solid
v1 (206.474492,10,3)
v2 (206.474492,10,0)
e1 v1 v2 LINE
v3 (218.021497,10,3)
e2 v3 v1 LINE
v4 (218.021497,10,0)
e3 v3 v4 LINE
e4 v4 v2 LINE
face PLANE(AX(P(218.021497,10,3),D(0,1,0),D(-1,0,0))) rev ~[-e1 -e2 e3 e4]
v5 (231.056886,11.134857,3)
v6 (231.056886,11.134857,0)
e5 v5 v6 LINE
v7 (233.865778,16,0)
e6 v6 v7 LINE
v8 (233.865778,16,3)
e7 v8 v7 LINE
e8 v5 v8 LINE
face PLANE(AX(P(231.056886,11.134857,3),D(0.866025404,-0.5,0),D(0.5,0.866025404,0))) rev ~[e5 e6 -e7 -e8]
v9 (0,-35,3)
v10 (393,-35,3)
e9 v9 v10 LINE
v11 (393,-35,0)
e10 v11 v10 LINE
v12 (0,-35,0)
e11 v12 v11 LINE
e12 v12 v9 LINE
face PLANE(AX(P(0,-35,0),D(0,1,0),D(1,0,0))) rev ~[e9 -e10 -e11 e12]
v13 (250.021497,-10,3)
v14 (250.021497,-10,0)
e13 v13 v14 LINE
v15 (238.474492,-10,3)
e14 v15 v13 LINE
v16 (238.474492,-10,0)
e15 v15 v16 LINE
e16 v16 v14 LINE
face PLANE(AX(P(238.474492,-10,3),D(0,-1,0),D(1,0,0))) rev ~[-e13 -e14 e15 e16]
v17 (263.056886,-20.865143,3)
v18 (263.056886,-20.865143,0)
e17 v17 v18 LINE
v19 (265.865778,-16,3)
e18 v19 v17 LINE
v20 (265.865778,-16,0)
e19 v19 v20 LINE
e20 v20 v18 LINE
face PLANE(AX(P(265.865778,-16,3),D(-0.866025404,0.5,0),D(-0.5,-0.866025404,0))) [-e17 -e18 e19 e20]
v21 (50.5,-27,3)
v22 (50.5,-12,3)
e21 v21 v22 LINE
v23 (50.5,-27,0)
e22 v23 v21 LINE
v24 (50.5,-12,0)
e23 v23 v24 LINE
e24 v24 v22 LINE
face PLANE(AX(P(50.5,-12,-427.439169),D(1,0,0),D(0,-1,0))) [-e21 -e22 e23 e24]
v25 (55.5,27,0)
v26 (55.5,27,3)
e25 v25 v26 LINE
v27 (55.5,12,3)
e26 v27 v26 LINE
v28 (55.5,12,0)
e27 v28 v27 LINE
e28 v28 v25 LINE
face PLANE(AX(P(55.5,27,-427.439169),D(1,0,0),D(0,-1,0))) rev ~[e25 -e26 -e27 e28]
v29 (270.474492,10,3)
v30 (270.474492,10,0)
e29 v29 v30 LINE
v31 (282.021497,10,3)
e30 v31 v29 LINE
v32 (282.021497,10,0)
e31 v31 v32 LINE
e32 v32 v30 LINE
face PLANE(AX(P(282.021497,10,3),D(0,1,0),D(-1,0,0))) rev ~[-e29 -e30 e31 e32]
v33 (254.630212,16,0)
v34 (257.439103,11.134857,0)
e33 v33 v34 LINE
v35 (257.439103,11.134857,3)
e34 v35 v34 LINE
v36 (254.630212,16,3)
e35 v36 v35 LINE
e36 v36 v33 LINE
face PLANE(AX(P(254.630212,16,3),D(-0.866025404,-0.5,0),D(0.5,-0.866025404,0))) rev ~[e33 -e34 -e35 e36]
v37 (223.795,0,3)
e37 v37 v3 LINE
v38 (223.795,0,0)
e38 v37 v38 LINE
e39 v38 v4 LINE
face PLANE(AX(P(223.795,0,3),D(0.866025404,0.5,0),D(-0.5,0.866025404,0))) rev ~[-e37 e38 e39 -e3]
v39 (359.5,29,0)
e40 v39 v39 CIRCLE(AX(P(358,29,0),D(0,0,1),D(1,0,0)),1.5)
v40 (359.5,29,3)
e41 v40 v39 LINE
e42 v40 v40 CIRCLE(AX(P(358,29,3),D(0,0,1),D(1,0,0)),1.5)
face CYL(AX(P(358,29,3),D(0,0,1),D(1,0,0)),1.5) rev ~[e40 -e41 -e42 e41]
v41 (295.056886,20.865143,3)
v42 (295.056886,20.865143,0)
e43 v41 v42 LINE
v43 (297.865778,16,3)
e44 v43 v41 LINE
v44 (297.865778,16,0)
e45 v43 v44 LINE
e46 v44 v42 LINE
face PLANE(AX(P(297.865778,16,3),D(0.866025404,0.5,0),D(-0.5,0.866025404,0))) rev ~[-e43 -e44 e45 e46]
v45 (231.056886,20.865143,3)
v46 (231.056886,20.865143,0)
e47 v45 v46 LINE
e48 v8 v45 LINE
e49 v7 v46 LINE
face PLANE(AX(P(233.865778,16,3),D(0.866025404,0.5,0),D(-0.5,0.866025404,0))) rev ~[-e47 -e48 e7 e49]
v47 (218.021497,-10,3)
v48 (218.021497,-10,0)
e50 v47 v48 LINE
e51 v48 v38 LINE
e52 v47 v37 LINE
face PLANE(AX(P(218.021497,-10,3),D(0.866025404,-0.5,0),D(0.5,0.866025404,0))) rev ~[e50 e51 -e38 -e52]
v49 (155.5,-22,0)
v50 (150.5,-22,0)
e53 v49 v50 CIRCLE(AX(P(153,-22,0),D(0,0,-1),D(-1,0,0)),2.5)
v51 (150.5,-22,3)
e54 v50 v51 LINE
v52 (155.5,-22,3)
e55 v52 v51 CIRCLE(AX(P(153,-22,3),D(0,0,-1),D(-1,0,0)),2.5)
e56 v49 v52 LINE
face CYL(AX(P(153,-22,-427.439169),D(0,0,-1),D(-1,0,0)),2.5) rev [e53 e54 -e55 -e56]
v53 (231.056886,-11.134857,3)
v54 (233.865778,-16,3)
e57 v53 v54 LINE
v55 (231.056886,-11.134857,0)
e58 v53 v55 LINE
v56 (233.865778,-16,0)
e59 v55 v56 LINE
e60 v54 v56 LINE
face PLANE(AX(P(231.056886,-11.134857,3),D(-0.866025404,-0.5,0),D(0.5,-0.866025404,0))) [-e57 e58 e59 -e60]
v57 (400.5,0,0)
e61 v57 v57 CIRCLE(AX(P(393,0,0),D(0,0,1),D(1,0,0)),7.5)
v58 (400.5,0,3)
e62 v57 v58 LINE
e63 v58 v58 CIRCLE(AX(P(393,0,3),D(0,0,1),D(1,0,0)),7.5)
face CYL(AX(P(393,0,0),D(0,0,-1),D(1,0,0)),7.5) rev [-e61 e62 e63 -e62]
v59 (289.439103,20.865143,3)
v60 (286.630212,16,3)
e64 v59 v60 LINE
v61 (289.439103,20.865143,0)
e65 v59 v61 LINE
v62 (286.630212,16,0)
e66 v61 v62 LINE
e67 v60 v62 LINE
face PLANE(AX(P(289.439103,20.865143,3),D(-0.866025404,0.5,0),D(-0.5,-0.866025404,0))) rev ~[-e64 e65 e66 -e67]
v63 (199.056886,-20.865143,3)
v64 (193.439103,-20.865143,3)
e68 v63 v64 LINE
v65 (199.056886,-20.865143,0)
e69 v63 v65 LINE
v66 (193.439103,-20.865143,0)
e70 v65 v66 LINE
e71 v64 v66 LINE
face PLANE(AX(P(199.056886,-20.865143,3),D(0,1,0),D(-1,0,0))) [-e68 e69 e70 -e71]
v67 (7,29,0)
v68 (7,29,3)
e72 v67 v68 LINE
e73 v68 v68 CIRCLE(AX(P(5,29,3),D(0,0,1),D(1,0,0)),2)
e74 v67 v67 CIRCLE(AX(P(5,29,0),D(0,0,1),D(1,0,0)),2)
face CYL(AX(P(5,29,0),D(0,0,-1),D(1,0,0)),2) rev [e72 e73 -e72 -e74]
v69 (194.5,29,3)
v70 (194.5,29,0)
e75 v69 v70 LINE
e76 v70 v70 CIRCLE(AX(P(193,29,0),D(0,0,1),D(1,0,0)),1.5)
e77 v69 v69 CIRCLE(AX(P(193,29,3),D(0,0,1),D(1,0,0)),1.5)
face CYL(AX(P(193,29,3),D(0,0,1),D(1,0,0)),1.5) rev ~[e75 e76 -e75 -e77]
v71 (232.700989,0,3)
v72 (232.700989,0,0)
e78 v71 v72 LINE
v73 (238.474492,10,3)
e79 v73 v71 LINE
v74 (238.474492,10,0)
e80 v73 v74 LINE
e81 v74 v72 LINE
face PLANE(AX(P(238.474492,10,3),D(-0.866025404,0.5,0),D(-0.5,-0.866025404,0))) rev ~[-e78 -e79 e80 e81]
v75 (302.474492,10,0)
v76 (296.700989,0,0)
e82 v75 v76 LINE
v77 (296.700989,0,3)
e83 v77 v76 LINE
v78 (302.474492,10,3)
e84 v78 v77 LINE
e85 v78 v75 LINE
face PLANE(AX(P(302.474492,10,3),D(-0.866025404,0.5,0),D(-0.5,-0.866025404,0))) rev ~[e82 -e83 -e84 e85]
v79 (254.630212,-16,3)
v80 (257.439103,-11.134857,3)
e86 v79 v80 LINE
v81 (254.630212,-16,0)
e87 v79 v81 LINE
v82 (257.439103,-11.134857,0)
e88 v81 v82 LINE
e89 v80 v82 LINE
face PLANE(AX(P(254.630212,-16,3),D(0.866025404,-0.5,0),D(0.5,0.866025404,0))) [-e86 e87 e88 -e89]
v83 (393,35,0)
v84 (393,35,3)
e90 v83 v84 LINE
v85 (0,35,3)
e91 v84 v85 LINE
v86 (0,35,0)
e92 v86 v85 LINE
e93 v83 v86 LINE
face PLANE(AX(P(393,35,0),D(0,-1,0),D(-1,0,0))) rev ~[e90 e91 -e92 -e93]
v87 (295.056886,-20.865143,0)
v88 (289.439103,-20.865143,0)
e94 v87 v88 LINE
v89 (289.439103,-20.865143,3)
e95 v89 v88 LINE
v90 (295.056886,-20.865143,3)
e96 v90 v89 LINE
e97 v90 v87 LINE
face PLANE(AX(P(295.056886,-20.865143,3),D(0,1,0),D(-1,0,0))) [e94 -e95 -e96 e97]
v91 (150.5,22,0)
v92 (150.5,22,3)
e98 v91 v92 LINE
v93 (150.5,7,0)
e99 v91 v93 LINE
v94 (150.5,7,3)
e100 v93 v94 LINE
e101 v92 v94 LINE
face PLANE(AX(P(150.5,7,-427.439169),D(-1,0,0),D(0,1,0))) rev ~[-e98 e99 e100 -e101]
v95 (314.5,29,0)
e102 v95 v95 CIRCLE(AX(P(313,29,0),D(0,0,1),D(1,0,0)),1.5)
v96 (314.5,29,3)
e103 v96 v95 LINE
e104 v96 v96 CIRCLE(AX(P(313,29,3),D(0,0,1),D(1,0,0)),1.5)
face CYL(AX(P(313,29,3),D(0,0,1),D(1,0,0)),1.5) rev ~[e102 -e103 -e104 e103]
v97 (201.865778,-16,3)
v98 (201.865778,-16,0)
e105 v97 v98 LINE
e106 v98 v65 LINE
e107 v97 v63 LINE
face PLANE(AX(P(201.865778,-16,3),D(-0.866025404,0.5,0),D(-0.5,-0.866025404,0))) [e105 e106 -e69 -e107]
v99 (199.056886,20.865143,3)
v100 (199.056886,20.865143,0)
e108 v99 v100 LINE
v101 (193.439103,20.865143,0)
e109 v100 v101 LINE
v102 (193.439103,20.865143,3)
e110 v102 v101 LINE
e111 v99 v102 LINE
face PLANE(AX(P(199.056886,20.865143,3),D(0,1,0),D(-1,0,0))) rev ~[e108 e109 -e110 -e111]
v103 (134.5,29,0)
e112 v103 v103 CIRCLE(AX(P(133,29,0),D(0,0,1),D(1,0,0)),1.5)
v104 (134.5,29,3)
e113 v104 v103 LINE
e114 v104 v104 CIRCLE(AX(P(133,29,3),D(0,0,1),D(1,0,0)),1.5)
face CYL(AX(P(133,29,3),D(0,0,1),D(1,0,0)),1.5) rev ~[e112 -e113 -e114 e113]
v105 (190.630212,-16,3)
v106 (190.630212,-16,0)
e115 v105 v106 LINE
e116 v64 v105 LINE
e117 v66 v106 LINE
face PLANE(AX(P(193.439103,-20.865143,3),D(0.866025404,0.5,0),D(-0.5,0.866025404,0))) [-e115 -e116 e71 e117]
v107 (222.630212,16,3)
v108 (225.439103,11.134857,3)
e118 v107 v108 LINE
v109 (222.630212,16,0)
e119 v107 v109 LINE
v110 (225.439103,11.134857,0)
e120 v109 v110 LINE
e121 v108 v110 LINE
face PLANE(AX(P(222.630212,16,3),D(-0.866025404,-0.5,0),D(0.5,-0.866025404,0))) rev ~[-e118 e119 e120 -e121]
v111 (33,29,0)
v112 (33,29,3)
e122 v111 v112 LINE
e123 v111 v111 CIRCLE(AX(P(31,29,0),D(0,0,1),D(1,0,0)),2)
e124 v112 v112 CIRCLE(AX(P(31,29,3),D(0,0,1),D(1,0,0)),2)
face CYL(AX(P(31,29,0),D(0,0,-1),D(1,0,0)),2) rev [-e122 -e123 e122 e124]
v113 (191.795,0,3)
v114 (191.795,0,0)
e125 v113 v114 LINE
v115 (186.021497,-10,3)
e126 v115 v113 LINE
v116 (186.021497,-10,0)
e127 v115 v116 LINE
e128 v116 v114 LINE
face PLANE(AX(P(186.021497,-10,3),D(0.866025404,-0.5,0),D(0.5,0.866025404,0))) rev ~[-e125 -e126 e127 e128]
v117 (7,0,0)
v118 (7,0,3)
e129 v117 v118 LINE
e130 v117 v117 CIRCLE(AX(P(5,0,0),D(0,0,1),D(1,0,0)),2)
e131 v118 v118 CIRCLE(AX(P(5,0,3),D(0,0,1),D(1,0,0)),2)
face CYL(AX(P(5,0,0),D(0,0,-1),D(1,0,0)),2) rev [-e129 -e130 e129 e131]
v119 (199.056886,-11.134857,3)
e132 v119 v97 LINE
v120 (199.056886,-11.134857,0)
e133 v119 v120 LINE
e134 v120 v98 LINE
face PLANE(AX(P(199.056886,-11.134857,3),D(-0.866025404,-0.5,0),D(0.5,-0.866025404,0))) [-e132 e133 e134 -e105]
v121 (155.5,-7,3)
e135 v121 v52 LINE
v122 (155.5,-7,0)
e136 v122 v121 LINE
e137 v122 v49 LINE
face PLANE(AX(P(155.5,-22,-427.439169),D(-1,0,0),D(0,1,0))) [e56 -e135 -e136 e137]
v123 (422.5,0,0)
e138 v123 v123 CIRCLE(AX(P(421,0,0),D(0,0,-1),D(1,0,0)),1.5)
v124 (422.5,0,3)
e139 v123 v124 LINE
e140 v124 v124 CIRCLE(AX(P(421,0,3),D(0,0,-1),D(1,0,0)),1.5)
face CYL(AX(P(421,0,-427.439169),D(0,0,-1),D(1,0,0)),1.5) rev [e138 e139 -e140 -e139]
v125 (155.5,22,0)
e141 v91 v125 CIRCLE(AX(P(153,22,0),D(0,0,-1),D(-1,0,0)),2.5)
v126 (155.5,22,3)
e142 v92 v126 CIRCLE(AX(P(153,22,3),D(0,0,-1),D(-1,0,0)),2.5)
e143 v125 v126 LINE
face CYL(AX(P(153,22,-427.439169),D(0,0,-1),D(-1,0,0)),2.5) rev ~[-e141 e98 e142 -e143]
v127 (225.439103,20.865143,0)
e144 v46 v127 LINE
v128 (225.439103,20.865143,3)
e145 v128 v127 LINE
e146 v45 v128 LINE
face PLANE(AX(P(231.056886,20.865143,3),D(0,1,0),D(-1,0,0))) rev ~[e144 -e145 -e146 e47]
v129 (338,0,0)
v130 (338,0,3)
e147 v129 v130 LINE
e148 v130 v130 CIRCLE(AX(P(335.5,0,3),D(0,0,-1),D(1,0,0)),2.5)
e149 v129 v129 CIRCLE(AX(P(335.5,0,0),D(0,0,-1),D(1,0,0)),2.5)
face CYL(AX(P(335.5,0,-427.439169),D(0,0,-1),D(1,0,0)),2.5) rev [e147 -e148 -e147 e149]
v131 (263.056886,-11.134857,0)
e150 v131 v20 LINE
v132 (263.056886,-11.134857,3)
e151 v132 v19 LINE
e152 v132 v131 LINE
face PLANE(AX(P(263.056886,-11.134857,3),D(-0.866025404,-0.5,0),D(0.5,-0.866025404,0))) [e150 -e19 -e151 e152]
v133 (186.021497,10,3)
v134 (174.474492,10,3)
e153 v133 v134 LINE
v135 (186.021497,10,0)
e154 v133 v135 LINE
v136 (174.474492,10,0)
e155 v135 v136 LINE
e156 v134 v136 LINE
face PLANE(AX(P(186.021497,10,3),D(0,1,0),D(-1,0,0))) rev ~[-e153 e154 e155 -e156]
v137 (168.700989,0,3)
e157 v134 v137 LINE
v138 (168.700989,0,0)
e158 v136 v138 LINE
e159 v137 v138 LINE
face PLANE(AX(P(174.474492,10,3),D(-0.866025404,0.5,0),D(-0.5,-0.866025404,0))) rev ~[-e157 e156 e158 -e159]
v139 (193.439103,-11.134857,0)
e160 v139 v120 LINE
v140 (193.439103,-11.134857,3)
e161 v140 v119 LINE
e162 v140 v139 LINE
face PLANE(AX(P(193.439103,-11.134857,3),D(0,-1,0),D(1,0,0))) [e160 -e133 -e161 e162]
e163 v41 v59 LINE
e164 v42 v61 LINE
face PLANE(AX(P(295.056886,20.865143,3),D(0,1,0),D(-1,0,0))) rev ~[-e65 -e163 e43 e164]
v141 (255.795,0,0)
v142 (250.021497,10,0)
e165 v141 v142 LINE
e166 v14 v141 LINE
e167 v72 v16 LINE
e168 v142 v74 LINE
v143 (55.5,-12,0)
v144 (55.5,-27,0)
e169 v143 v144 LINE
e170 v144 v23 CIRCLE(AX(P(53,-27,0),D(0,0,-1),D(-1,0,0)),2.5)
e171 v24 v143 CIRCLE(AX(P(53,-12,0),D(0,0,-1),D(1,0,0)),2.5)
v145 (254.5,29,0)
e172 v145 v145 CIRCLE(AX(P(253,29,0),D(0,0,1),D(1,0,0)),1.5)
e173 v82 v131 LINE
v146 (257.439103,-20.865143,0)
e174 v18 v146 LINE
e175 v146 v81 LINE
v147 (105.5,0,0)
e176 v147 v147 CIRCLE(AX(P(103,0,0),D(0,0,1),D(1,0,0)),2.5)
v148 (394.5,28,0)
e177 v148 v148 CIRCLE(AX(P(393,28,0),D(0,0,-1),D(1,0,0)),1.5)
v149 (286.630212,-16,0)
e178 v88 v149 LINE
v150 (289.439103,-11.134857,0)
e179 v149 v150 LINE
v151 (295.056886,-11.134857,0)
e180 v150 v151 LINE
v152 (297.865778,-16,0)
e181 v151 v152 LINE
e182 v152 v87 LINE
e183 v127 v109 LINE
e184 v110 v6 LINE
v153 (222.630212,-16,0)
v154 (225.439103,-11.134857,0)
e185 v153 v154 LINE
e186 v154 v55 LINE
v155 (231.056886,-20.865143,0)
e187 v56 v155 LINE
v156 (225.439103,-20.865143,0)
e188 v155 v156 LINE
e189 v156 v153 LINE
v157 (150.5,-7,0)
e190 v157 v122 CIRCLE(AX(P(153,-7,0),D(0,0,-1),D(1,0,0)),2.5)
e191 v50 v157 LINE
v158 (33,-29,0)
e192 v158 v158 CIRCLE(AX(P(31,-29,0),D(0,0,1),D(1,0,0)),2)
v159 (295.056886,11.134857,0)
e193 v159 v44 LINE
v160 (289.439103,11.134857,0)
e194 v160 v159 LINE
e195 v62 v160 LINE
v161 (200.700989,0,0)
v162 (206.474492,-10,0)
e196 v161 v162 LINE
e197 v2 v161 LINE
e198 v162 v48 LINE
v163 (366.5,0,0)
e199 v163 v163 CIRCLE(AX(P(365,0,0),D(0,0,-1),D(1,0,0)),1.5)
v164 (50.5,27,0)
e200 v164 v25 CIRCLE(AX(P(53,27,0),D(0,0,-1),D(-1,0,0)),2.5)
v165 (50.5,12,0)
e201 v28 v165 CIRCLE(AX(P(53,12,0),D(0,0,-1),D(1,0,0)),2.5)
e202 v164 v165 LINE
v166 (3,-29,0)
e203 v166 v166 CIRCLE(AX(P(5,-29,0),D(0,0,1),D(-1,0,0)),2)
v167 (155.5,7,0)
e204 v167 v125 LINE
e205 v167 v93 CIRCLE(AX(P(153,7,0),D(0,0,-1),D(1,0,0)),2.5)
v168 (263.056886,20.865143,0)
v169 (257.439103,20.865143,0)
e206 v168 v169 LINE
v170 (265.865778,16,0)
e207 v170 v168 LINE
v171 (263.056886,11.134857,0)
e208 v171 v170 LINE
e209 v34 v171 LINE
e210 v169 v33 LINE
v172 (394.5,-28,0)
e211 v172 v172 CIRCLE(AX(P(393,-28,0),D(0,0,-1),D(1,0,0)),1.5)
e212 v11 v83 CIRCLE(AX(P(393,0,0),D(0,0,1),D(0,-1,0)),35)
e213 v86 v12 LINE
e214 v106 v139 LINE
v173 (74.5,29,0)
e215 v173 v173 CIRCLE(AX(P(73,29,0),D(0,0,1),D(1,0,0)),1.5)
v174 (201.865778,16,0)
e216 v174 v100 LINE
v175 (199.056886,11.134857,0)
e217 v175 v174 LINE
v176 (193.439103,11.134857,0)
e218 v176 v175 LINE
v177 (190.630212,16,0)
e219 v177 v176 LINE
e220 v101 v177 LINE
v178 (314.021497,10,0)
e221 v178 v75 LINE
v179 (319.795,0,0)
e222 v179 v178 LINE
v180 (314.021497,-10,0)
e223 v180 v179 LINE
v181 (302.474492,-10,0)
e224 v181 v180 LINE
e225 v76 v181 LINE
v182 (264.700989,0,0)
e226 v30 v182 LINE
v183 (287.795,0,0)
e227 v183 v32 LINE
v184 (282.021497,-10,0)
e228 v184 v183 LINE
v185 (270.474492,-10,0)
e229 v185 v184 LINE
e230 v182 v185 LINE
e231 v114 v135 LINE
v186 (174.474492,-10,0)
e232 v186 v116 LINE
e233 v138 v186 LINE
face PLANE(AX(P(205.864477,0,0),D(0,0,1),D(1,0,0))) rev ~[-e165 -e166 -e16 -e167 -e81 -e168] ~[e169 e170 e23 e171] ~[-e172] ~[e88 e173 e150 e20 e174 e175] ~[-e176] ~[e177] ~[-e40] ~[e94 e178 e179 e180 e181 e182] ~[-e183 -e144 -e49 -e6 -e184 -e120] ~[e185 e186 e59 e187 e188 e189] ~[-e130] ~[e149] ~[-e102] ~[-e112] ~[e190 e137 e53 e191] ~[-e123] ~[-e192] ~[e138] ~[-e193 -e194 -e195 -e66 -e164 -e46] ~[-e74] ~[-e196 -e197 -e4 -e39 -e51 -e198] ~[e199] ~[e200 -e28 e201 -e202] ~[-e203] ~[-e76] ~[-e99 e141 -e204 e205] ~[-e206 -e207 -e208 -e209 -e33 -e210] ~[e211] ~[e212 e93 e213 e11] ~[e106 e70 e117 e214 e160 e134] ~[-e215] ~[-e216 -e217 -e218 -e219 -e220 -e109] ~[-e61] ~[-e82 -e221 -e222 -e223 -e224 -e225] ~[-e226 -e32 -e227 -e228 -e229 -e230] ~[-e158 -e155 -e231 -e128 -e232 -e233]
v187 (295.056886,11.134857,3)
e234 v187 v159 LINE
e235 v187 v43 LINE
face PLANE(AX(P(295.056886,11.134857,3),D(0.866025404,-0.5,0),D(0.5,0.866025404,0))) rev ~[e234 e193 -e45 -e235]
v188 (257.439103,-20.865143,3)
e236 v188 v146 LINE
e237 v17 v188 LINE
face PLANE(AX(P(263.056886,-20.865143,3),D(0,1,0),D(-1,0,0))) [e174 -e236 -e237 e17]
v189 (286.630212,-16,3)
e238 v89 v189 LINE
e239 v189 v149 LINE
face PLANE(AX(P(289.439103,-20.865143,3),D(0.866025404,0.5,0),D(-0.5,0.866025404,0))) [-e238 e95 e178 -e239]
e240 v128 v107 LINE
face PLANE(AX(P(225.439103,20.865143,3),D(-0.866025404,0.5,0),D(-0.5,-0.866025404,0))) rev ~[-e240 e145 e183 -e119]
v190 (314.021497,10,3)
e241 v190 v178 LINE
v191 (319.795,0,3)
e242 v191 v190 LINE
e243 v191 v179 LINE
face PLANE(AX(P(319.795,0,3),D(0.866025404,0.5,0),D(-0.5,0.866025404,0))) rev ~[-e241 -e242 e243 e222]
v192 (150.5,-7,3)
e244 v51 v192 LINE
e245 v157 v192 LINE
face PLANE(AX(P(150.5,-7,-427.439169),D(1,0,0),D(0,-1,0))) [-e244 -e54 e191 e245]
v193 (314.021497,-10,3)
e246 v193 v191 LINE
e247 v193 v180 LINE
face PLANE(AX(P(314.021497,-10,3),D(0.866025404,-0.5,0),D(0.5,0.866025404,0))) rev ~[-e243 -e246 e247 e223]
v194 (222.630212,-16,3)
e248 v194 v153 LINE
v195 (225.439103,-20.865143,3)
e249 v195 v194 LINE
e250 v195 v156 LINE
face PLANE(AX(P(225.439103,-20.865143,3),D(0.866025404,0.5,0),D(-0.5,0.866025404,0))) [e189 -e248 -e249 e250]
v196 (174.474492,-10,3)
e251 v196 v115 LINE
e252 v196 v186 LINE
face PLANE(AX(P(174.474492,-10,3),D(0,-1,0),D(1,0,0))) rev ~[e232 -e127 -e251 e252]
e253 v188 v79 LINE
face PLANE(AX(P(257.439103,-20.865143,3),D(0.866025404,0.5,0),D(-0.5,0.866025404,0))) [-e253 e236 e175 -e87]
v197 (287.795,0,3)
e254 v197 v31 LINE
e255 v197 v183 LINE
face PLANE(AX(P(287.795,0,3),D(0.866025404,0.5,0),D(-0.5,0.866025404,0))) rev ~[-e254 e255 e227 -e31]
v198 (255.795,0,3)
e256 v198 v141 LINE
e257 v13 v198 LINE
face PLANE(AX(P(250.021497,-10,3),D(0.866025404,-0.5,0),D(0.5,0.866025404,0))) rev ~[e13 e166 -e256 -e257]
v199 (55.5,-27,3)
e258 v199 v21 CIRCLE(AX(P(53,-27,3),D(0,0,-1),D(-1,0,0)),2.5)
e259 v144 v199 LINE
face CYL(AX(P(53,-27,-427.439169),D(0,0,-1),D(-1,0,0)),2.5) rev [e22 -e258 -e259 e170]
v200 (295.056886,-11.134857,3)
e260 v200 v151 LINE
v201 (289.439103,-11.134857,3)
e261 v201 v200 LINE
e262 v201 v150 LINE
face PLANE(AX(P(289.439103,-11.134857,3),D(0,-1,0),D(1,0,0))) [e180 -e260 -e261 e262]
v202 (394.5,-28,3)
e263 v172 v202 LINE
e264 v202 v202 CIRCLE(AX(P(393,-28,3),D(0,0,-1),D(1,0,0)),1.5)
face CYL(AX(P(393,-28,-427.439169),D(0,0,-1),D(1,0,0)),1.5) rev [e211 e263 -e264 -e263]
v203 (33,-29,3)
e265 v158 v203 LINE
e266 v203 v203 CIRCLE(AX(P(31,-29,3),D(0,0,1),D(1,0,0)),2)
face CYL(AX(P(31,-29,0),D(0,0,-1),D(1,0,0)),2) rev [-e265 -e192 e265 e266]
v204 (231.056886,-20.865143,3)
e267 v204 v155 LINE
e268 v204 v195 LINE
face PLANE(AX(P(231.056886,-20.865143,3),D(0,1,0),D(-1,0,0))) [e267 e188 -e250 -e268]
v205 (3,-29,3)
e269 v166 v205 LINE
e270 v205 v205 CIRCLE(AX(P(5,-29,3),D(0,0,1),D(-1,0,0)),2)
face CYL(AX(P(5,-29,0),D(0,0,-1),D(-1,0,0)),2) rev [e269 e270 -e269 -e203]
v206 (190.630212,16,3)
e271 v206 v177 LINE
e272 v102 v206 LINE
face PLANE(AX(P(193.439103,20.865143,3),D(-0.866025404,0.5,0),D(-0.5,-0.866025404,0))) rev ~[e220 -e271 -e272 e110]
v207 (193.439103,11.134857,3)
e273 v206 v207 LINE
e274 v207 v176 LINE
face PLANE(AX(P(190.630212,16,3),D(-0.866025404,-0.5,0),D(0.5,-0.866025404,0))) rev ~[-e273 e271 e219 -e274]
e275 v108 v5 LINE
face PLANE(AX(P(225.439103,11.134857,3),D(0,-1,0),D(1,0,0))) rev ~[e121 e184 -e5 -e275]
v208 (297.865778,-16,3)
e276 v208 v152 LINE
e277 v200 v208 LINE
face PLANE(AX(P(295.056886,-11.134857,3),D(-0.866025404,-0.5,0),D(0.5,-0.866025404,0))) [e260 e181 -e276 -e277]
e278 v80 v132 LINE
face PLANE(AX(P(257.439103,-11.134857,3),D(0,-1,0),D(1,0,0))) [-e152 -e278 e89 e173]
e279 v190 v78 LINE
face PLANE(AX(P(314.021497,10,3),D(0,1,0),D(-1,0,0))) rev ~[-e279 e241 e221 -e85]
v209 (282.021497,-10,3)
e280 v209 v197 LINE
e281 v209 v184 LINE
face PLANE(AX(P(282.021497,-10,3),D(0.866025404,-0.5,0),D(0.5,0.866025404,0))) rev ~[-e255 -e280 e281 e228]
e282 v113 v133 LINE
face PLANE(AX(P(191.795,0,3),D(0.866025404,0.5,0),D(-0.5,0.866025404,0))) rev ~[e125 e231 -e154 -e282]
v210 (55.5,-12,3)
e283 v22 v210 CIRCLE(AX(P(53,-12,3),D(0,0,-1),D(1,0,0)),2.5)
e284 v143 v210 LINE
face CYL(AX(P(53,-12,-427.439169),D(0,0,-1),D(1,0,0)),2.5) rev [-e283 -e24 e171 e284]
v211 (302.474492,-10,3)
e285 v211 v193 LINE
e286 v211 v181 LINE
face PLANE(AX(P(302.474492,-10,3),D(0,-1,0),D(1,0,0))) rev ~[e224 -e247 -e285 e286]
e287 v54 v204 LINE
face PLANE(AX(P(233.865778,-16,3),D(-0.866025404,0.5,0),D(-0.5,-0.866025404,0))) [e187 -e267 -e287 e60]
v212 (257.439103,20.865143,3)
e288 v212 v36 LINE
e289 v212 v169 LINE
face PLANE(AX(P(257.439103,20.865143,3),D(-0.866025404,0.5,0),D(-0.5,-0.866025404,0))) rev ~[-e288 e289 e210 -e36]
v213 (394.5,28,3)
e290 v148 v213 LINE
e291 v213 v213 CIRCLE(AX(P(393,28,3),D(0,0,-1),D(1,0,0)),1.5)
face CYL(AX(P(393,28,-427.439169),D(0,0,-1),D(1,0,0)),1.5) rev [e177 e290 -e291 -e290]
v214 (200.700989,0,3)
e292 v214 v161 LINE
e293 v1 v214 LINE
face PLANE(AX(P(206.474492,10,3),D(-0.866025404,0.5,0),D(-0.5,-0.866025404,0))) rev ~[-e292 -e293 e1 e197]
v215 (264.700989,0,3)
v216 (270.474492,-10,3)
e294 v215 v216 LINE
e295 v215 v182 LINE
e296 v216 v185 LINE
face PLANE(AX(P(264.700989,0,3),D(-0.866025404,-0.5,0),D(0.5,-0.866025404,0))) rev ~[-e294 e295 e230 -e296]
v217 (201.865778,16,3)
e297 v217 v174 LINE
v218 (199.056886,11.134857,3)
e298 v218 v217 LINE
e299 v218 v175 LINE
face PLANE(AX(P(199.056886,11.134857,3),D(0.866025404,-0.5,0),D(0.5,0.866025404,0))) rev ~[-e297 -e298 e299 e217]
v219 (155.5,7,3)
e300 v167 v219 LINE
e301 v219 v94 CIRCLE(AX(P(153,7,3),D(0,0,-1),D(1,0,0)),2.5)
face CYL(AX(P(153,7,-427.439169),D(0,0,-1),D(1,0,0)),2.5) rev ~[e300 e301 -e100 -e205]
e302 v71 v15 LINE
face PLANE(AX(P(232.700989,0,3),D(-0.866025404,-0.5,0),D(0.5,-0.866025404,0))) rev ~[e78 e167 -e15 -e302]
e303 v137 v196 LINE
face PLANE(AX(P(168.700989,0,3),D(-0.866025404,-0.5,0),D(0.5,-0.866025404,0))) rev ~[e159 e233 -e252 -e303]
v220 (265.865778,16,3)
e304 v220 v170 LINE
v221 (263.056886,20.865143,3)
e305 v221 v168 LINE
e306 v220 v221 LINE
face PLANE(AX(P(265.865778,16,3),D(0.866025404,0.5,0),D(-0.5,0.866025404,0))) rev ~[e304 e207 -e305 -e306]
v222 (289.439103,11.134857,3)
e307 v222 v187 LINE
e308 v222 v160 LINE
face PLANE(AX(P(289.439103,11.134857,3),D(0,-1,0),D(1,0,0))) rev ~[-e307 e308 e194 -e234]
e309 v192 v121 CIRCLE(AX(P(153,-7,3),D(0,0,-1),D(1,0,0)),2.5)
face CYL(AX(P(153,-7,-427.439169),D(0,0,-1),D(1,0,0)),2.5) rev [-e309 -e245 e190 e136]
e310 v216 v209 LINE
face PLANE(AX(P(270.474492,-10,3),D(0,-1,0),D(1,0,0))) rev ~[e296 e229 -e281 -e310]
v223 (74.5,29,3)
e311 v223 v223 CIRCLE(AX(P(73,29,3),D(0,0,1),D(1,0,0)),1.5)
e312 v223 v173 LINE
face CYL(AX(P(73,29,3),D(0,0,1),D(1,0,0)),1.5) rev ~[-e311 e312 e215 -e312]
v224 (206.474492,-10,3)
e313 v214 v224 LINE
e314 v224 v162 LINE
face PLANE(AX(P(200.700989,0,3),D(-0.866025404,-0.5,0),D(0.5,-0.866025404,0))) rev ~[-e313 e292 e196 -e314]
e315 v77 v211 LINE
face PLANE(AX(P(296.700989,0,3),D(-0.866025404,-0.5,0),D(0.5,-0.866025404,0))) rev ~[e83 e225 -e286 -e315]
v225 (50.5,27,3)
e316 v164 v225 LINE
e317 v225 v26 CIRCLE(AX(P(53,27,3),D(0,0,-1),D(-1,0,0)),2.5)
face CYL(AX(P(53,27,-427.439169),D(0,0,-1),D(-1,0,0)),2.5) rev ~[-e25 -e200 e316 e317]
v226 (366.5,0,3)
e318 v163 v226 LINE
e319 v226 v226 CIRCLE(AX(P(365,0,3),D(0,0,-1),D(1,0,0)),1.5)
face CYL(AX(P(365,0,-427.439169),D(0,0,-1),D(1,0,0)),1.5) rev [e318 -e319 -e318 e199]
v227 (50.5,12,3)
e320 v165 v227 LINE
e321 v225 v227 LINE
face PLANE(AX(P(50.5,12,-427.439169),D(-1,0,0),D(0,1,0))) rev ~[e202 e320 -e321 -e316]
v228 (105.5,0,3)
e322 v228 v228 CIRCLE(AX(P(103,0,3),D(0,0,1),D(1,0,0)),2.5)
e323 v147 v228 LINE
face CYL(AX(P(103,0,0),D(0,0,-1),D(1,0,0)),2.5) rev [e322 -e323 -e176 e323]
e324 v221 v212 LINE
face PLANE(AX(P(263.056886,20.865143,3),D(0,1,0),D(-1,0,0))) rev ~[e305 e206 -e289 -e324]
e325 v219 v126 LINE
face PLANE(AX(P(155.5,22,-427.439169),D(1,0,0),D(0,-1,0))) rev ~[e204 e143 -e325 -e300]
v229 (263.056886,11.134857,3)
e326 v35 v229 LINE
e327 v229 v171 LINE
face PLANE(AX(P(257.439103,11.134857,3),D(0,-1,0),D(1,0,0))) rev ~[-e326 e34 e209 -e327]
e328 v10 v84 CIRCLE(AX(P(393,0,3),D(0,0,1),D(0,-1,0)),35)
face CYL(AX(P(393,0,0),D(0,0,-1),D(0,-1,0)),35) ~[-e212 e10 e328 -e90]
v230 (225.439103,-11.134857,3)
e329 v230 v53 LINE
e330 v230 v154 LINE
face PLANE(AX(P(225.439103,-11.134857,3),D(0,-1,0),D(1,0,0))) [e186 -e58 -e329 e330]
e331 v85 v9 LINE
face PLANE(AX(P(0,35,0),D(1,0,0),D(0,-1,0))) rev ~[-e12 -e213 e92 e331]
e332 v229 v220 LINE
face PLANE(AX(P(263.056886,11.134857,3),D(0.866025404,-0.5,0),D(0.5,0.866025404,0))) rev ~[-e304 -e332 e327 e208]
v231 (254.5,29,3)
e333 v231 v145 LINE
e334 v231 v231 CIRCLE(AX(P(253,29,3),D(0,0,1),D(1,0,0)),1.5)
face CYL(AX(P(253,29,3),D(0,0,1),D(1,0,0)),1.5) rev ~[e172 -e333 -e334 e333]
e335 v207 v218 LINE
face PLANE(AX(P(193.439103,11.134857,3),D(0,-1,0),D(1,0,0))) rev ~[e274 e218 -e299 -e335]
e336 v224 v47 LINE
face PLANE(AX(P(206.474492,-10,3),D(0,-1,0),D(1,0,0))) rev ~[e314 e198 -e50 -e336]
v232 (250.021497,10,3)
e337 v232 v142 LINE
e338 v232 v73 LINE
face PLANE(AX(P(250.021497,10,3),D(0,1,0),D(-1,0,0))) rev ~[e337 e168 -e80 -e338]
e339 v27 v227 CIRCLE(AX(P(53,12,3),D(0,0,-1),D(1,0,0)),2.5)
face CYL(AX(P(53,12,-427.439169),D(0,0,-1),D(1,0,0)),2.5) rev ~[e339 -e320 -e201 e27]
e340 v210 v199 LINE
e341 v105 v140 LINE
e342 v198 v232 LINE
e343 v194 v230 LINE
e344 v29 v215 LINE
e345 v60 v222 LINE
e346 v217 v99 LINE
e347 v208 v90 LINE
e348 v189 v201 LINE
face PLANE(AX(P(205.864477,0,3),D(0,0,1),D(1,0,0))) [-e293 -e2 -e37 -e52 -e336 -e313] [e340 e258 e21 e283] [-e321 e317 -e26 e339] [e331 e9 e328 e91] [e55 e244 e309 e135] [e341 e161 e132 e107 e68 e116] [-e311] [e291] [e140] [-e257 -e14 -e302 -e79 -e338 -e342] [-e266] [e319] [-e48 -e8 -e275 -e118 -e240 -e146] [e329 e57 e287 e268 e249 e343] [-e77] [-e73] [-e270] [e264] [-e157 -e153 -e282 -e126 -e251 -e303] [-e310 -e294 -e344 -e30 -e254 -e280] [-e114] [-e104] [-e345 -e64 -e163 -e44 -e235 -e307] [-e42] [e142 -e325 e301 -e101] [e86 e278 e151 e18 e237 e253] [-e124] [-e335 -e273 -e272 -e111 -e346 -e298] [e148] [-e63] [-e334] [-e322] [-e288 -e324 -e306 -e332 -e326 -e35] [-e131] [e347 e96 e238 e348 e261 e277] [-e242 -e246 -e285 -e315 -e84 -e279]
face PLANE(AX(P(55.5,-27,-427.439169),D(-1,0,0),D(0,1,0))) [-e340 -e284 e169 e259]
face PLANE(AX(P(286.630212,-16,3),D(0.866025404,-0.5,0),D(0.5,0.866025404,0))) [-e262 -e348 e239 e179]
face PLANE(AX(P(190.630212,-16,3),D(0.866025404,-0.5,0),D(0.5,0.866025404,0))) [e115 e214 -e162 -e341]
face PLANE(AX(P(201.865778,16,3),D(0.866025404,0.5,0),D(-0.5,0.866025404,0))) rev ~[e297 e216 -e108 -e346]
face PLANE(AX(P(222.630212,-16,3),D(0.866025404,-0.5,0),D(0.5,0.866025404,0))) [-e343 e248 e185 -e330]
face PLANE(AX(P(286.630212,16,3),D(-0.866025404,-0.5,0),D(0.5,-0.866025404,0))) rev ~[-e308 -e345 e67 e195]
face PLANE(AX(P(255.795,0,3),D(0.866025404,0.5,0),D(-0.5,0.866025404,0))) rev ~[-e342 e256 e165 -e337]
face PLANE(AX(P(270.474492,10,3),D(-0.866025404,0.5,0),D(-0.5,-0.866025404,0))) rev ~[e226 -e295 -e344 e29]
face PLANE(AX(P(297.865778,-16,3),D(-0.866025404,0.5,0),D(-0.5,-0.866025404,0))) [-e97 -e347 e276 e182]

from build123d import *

# Parameters (mm, degrees)
SKETCH1_R               = 2
SKETCH1_R_2             = 7.5
SKETCH1_R_3             = 2.5
BOSS_EXTRUDE1_DEPTH     = 3
CUT_EXTRUDE1_DEPTH      = 430.43916915
CUT_EXTRUDE1_DEPTH_BACK = 430.43916915
CUT_EXTRUDE2_DEPTH      = 430.43916915
CUT_EXTRUDE2_DEPTH_BACK = 430.43916915
SKETCH5_R               = 2.5
CUT_EXTRUDE3_DEPTH      = 430.43916915
CUT_EXTRUDE3_DEPTH_BACK = 430.43916915
SKETCH6_R               = 1.500000001
SKETCH6_R_2             = 1.5
SKETCH6_R_3             = 1.499999999
SKETCH7_R               = 1.5
CUT_EXTRUDE4_DEPTH      = 3
CUT_EXTRUDE5_DEPTH      = 430.43916915


with BuildPart() as part:
    # Sketch1 → Boss-Extrude1 (new body)
    with BuildSketch(Plane.XY):
        with BuildLine():
            Line((0, 35), (0, -35))
            Line((0, -35), (393, -35))
            ThreePointArc((393, -35), (428, 0), (393, 35))
            Line((393, 35), (0, 35))
        make_face()
        with Locations((5, 29)):
            Circle(SKETCH1_R, mode=Mode.SUBTRACT)
        with Locations(Location((5, -29, 0), (0, 0, 180))):
            Circle(SKETCH1_R, mode=Mode.SUBTRACT)
        with Locations((393, 0)):
            Circle(SKETCH1_R_2, mode=Mode.SUBTRACT)
        with Locations((103, 0)):
            Circle(SKETCH1_R_3, mode=Mode.SUBTRACT)
        with Locations((31, 29)):
            Circle(SKETCH1_R, mode=Mode.SUBTRACT)
        with Locations((31, -29)):
            Circle(SKETCH1_R, mode=Mode.SUBTRACT)
        with Locations((5, 0)):
            Circle(SKETCH1_R, mode=Mode.SUBTRACT)
    extrude(amount=BOSS_EXTRUDE1_DEPTH)

    # Sketch4 → Cut-Extrude1 (cut, two sides: drawn at the far end of the back side and taken through both)
    with BuildSketch(Plane.XY.offset(3).offset(-CUT_EXTRUDE1_DEPTH_BACK)):
        with BuildLine():
            Line((55.5, 27), (55.5, 12))
            ThreePointArc((55.5, 12), (53, 9.5), (50.5, 12))
            Line((50.5, 12), (50.5, 27))
            ThreePointArc((50.5, 27), (53, 29.5), (55.5, 27))
        make_face()
        with BuildLine():
            Line((155.5, 22), (155.5, 7))
            ThreePointArc((155.5, 7), (153, 4.5), (150.5, 7))
            Line((150.5, 7), (150.5, 22))
            ThreePointArc((150.5, 22), (153, 24.5), (155.5, 22))
        make_face()
        with BuildLine():
            Line((155.5, -22), (155.5, -7))
            ThreePointArc((155.5, -7), (153, -4.5), (150.5, -7))
            Line((150.5, -7), (150.5, -22))
            ThreePointArc((150.5, -22), (153, -24.5), (155.5, -22))
        make_face()
        with BuildLine():
            Line((55.5, -27), (55.5, -12))
            ThreePointArc((55.5, -12), (53, -9.5), (50.5, -12))
            Line((50.5, -12), (50.5, -27))
            ThreePointArc((50.5, -27), (53, -29.5), (55.5, -27))
        make_face()
    extrude(amount=CUT_EXTRUDE1_DEPTH + CUT_EXTRUDE1_DEPTH_BACK, mode=Mode.SUBTRACT)

    # Sketch5 → Cut-Extrude2 (cut, two sides: drawn at the far end of the back side and taken through both)
    with BuildSketch(Plane.XY.offset(3).offset(-CUT_EXTRUDE2_DEPTH_BACK)):
        with Locations((335.5, 0)):
            Circle(SKETCH5_R)
    extrude(amount=CUT_EXTRUDE2_DEPTH + CUT_EXTRUDE2_DEPTH_BACK, mode=Mode.SUBTRACT)

    # Sketch6 → Cut-Extrude3 (cut, two sides: drawn at the far end of the back side and taken through both)
    with BuildSketch(Plane.XY.offset(3).offset(-CUT_EXTRUDE3_DEPTH_BACK)):
        with Locations((420.999999999, 1e-09)):
            Circle(SKETCH6_R)
        with Locations((393, -27.999999998)):
            Circle(SKETCH6_R_2)
        with Locations((393, 28)):
            Circle(SKETCH6_R_2)
        with Locations((365.000000001, 1e-09)):
            Circle(SKETCH6_R_3)
    extrude(amount=CUT_EXTRUDE3_DEPTH + CUT_EXTRUDE3_DEPTH_BACK, mode=Mode.SUBTRACT)

    # Sketch7 → Cut-Extrude4 (cut)
    with BuildSketch(Plane.XY.offset(3)):
        with Locations((73, 29)):
            Circle(SKETCH7_R)
        with Locations((133, 29)):
            Circle(SKETCH7_R)
        with Locations((193, 29)):
            Circle(SKETCH7_R)
        with Locations((253, 29)):
            Circle(SKETCH7_R)
        with Locations((313, 29)):
            Circle(SKETCH7_R)
        with Locations((358, 29)):
            Circle(SKETCH7_R)
    extrude(amount=-CUT_EXTRUDE4_DEPTH, mode=Mode.SUBTRACT)

    # Sketch8 → Cut-Extrude5 (cut, through all)
    with BuildSketch(Plane.XY.offset(3)):
        Polygon((223.795, 0), (218.021497308, 10), (206.474491924, 10), (200.700989232, 0), (206.474491924, -10), (218.021497308, -10), align=None)
        Polygon((191.795, 0), (186.021497308, 10), (174.474491924, 10), (168.700989232, 0), (174.474491924, -10), (186.021497308, -10), align=None)
        Polygon((255.795, 0), (250.021497308, 10), (238.474491924, 10), (232.700989232, 0), (238.474491924, -10), (250.021497308, -10), align=None)
        Polygon((287.795, 0), (282.021497308, 10), (270.474491924, 10), (264.700989232, 0), (270.474491924, -10), (282.021497308, -10), align=None)
        Polygon((233.865777575, 16), (231.056886095, 20.865142755), (225.439103137, 20.865142755), (222.630211658, 16), (225.439103137, 11.134857245), (231.056886095, 11.134857245), align=None)
        Polygon((201.865777575, 16), (199.056886095, 20.865142755), (193.439103137, 20.865142755), (190.630211658, 16), (193.439103137, 11.134857245), (199.056886095, 11.134857245), align=None)
        Polygon((265.865777575, 16), (263.056886095, 20.865142755), (257.439103137, 20.865142755), (254.630211658, 16), (257.439103137, 11.134857245), (263.056886095, 11.134857245), align=None)
        Polygon((319.795, 0), (314.021497308, 10), (302.474491924, 10), (296.700989232, 0), (302.474491924, -10), (314.021497308, -10), align=None)
        Polygon((297.865777575, 16), (295.056886095, 20.865142755), (289.439103137, 20.865142755), (286.630211658, 16), (289.439103137, 11.134857245), (295.056886095, 11.134857245), align=None)
        Polygon((295.056886095, -11.134857245), (297.865777575, -16), (295.056886095, -20.865142755), (289.439103137, -20.865142755), (286.630211658, -16), (289.439103137, -11.134857245), align=None)
        Polygon((263.056886095, -11.134857245), (265.865777575, -16), (263.056886095, -20.865142755), (257.439103137, -20.865142755), (254.630211658, -16), (257.439103137, -11.134857245), align=None)
        Polygon((231.056886095, -11.134857245), (233.865777575, -16), (231.056886095, -20.865142755), (225.439103137, -20.865142755), (222.630211658, -16), (225.439103137, -11.134857245), align=None)
        Polygon((199.056886095, -11.134857245), (201.865777575, -16), (199.056886095, -20.865142755), (193.439103137, -20.865142755), (190.630211658, -16), (193.439103137, -11.134857245), align=None)
    extrude(amount=-CUT_EXTRUDE5_DEPTH, mode=Mode.SUBTRACT)


solid = part.part
